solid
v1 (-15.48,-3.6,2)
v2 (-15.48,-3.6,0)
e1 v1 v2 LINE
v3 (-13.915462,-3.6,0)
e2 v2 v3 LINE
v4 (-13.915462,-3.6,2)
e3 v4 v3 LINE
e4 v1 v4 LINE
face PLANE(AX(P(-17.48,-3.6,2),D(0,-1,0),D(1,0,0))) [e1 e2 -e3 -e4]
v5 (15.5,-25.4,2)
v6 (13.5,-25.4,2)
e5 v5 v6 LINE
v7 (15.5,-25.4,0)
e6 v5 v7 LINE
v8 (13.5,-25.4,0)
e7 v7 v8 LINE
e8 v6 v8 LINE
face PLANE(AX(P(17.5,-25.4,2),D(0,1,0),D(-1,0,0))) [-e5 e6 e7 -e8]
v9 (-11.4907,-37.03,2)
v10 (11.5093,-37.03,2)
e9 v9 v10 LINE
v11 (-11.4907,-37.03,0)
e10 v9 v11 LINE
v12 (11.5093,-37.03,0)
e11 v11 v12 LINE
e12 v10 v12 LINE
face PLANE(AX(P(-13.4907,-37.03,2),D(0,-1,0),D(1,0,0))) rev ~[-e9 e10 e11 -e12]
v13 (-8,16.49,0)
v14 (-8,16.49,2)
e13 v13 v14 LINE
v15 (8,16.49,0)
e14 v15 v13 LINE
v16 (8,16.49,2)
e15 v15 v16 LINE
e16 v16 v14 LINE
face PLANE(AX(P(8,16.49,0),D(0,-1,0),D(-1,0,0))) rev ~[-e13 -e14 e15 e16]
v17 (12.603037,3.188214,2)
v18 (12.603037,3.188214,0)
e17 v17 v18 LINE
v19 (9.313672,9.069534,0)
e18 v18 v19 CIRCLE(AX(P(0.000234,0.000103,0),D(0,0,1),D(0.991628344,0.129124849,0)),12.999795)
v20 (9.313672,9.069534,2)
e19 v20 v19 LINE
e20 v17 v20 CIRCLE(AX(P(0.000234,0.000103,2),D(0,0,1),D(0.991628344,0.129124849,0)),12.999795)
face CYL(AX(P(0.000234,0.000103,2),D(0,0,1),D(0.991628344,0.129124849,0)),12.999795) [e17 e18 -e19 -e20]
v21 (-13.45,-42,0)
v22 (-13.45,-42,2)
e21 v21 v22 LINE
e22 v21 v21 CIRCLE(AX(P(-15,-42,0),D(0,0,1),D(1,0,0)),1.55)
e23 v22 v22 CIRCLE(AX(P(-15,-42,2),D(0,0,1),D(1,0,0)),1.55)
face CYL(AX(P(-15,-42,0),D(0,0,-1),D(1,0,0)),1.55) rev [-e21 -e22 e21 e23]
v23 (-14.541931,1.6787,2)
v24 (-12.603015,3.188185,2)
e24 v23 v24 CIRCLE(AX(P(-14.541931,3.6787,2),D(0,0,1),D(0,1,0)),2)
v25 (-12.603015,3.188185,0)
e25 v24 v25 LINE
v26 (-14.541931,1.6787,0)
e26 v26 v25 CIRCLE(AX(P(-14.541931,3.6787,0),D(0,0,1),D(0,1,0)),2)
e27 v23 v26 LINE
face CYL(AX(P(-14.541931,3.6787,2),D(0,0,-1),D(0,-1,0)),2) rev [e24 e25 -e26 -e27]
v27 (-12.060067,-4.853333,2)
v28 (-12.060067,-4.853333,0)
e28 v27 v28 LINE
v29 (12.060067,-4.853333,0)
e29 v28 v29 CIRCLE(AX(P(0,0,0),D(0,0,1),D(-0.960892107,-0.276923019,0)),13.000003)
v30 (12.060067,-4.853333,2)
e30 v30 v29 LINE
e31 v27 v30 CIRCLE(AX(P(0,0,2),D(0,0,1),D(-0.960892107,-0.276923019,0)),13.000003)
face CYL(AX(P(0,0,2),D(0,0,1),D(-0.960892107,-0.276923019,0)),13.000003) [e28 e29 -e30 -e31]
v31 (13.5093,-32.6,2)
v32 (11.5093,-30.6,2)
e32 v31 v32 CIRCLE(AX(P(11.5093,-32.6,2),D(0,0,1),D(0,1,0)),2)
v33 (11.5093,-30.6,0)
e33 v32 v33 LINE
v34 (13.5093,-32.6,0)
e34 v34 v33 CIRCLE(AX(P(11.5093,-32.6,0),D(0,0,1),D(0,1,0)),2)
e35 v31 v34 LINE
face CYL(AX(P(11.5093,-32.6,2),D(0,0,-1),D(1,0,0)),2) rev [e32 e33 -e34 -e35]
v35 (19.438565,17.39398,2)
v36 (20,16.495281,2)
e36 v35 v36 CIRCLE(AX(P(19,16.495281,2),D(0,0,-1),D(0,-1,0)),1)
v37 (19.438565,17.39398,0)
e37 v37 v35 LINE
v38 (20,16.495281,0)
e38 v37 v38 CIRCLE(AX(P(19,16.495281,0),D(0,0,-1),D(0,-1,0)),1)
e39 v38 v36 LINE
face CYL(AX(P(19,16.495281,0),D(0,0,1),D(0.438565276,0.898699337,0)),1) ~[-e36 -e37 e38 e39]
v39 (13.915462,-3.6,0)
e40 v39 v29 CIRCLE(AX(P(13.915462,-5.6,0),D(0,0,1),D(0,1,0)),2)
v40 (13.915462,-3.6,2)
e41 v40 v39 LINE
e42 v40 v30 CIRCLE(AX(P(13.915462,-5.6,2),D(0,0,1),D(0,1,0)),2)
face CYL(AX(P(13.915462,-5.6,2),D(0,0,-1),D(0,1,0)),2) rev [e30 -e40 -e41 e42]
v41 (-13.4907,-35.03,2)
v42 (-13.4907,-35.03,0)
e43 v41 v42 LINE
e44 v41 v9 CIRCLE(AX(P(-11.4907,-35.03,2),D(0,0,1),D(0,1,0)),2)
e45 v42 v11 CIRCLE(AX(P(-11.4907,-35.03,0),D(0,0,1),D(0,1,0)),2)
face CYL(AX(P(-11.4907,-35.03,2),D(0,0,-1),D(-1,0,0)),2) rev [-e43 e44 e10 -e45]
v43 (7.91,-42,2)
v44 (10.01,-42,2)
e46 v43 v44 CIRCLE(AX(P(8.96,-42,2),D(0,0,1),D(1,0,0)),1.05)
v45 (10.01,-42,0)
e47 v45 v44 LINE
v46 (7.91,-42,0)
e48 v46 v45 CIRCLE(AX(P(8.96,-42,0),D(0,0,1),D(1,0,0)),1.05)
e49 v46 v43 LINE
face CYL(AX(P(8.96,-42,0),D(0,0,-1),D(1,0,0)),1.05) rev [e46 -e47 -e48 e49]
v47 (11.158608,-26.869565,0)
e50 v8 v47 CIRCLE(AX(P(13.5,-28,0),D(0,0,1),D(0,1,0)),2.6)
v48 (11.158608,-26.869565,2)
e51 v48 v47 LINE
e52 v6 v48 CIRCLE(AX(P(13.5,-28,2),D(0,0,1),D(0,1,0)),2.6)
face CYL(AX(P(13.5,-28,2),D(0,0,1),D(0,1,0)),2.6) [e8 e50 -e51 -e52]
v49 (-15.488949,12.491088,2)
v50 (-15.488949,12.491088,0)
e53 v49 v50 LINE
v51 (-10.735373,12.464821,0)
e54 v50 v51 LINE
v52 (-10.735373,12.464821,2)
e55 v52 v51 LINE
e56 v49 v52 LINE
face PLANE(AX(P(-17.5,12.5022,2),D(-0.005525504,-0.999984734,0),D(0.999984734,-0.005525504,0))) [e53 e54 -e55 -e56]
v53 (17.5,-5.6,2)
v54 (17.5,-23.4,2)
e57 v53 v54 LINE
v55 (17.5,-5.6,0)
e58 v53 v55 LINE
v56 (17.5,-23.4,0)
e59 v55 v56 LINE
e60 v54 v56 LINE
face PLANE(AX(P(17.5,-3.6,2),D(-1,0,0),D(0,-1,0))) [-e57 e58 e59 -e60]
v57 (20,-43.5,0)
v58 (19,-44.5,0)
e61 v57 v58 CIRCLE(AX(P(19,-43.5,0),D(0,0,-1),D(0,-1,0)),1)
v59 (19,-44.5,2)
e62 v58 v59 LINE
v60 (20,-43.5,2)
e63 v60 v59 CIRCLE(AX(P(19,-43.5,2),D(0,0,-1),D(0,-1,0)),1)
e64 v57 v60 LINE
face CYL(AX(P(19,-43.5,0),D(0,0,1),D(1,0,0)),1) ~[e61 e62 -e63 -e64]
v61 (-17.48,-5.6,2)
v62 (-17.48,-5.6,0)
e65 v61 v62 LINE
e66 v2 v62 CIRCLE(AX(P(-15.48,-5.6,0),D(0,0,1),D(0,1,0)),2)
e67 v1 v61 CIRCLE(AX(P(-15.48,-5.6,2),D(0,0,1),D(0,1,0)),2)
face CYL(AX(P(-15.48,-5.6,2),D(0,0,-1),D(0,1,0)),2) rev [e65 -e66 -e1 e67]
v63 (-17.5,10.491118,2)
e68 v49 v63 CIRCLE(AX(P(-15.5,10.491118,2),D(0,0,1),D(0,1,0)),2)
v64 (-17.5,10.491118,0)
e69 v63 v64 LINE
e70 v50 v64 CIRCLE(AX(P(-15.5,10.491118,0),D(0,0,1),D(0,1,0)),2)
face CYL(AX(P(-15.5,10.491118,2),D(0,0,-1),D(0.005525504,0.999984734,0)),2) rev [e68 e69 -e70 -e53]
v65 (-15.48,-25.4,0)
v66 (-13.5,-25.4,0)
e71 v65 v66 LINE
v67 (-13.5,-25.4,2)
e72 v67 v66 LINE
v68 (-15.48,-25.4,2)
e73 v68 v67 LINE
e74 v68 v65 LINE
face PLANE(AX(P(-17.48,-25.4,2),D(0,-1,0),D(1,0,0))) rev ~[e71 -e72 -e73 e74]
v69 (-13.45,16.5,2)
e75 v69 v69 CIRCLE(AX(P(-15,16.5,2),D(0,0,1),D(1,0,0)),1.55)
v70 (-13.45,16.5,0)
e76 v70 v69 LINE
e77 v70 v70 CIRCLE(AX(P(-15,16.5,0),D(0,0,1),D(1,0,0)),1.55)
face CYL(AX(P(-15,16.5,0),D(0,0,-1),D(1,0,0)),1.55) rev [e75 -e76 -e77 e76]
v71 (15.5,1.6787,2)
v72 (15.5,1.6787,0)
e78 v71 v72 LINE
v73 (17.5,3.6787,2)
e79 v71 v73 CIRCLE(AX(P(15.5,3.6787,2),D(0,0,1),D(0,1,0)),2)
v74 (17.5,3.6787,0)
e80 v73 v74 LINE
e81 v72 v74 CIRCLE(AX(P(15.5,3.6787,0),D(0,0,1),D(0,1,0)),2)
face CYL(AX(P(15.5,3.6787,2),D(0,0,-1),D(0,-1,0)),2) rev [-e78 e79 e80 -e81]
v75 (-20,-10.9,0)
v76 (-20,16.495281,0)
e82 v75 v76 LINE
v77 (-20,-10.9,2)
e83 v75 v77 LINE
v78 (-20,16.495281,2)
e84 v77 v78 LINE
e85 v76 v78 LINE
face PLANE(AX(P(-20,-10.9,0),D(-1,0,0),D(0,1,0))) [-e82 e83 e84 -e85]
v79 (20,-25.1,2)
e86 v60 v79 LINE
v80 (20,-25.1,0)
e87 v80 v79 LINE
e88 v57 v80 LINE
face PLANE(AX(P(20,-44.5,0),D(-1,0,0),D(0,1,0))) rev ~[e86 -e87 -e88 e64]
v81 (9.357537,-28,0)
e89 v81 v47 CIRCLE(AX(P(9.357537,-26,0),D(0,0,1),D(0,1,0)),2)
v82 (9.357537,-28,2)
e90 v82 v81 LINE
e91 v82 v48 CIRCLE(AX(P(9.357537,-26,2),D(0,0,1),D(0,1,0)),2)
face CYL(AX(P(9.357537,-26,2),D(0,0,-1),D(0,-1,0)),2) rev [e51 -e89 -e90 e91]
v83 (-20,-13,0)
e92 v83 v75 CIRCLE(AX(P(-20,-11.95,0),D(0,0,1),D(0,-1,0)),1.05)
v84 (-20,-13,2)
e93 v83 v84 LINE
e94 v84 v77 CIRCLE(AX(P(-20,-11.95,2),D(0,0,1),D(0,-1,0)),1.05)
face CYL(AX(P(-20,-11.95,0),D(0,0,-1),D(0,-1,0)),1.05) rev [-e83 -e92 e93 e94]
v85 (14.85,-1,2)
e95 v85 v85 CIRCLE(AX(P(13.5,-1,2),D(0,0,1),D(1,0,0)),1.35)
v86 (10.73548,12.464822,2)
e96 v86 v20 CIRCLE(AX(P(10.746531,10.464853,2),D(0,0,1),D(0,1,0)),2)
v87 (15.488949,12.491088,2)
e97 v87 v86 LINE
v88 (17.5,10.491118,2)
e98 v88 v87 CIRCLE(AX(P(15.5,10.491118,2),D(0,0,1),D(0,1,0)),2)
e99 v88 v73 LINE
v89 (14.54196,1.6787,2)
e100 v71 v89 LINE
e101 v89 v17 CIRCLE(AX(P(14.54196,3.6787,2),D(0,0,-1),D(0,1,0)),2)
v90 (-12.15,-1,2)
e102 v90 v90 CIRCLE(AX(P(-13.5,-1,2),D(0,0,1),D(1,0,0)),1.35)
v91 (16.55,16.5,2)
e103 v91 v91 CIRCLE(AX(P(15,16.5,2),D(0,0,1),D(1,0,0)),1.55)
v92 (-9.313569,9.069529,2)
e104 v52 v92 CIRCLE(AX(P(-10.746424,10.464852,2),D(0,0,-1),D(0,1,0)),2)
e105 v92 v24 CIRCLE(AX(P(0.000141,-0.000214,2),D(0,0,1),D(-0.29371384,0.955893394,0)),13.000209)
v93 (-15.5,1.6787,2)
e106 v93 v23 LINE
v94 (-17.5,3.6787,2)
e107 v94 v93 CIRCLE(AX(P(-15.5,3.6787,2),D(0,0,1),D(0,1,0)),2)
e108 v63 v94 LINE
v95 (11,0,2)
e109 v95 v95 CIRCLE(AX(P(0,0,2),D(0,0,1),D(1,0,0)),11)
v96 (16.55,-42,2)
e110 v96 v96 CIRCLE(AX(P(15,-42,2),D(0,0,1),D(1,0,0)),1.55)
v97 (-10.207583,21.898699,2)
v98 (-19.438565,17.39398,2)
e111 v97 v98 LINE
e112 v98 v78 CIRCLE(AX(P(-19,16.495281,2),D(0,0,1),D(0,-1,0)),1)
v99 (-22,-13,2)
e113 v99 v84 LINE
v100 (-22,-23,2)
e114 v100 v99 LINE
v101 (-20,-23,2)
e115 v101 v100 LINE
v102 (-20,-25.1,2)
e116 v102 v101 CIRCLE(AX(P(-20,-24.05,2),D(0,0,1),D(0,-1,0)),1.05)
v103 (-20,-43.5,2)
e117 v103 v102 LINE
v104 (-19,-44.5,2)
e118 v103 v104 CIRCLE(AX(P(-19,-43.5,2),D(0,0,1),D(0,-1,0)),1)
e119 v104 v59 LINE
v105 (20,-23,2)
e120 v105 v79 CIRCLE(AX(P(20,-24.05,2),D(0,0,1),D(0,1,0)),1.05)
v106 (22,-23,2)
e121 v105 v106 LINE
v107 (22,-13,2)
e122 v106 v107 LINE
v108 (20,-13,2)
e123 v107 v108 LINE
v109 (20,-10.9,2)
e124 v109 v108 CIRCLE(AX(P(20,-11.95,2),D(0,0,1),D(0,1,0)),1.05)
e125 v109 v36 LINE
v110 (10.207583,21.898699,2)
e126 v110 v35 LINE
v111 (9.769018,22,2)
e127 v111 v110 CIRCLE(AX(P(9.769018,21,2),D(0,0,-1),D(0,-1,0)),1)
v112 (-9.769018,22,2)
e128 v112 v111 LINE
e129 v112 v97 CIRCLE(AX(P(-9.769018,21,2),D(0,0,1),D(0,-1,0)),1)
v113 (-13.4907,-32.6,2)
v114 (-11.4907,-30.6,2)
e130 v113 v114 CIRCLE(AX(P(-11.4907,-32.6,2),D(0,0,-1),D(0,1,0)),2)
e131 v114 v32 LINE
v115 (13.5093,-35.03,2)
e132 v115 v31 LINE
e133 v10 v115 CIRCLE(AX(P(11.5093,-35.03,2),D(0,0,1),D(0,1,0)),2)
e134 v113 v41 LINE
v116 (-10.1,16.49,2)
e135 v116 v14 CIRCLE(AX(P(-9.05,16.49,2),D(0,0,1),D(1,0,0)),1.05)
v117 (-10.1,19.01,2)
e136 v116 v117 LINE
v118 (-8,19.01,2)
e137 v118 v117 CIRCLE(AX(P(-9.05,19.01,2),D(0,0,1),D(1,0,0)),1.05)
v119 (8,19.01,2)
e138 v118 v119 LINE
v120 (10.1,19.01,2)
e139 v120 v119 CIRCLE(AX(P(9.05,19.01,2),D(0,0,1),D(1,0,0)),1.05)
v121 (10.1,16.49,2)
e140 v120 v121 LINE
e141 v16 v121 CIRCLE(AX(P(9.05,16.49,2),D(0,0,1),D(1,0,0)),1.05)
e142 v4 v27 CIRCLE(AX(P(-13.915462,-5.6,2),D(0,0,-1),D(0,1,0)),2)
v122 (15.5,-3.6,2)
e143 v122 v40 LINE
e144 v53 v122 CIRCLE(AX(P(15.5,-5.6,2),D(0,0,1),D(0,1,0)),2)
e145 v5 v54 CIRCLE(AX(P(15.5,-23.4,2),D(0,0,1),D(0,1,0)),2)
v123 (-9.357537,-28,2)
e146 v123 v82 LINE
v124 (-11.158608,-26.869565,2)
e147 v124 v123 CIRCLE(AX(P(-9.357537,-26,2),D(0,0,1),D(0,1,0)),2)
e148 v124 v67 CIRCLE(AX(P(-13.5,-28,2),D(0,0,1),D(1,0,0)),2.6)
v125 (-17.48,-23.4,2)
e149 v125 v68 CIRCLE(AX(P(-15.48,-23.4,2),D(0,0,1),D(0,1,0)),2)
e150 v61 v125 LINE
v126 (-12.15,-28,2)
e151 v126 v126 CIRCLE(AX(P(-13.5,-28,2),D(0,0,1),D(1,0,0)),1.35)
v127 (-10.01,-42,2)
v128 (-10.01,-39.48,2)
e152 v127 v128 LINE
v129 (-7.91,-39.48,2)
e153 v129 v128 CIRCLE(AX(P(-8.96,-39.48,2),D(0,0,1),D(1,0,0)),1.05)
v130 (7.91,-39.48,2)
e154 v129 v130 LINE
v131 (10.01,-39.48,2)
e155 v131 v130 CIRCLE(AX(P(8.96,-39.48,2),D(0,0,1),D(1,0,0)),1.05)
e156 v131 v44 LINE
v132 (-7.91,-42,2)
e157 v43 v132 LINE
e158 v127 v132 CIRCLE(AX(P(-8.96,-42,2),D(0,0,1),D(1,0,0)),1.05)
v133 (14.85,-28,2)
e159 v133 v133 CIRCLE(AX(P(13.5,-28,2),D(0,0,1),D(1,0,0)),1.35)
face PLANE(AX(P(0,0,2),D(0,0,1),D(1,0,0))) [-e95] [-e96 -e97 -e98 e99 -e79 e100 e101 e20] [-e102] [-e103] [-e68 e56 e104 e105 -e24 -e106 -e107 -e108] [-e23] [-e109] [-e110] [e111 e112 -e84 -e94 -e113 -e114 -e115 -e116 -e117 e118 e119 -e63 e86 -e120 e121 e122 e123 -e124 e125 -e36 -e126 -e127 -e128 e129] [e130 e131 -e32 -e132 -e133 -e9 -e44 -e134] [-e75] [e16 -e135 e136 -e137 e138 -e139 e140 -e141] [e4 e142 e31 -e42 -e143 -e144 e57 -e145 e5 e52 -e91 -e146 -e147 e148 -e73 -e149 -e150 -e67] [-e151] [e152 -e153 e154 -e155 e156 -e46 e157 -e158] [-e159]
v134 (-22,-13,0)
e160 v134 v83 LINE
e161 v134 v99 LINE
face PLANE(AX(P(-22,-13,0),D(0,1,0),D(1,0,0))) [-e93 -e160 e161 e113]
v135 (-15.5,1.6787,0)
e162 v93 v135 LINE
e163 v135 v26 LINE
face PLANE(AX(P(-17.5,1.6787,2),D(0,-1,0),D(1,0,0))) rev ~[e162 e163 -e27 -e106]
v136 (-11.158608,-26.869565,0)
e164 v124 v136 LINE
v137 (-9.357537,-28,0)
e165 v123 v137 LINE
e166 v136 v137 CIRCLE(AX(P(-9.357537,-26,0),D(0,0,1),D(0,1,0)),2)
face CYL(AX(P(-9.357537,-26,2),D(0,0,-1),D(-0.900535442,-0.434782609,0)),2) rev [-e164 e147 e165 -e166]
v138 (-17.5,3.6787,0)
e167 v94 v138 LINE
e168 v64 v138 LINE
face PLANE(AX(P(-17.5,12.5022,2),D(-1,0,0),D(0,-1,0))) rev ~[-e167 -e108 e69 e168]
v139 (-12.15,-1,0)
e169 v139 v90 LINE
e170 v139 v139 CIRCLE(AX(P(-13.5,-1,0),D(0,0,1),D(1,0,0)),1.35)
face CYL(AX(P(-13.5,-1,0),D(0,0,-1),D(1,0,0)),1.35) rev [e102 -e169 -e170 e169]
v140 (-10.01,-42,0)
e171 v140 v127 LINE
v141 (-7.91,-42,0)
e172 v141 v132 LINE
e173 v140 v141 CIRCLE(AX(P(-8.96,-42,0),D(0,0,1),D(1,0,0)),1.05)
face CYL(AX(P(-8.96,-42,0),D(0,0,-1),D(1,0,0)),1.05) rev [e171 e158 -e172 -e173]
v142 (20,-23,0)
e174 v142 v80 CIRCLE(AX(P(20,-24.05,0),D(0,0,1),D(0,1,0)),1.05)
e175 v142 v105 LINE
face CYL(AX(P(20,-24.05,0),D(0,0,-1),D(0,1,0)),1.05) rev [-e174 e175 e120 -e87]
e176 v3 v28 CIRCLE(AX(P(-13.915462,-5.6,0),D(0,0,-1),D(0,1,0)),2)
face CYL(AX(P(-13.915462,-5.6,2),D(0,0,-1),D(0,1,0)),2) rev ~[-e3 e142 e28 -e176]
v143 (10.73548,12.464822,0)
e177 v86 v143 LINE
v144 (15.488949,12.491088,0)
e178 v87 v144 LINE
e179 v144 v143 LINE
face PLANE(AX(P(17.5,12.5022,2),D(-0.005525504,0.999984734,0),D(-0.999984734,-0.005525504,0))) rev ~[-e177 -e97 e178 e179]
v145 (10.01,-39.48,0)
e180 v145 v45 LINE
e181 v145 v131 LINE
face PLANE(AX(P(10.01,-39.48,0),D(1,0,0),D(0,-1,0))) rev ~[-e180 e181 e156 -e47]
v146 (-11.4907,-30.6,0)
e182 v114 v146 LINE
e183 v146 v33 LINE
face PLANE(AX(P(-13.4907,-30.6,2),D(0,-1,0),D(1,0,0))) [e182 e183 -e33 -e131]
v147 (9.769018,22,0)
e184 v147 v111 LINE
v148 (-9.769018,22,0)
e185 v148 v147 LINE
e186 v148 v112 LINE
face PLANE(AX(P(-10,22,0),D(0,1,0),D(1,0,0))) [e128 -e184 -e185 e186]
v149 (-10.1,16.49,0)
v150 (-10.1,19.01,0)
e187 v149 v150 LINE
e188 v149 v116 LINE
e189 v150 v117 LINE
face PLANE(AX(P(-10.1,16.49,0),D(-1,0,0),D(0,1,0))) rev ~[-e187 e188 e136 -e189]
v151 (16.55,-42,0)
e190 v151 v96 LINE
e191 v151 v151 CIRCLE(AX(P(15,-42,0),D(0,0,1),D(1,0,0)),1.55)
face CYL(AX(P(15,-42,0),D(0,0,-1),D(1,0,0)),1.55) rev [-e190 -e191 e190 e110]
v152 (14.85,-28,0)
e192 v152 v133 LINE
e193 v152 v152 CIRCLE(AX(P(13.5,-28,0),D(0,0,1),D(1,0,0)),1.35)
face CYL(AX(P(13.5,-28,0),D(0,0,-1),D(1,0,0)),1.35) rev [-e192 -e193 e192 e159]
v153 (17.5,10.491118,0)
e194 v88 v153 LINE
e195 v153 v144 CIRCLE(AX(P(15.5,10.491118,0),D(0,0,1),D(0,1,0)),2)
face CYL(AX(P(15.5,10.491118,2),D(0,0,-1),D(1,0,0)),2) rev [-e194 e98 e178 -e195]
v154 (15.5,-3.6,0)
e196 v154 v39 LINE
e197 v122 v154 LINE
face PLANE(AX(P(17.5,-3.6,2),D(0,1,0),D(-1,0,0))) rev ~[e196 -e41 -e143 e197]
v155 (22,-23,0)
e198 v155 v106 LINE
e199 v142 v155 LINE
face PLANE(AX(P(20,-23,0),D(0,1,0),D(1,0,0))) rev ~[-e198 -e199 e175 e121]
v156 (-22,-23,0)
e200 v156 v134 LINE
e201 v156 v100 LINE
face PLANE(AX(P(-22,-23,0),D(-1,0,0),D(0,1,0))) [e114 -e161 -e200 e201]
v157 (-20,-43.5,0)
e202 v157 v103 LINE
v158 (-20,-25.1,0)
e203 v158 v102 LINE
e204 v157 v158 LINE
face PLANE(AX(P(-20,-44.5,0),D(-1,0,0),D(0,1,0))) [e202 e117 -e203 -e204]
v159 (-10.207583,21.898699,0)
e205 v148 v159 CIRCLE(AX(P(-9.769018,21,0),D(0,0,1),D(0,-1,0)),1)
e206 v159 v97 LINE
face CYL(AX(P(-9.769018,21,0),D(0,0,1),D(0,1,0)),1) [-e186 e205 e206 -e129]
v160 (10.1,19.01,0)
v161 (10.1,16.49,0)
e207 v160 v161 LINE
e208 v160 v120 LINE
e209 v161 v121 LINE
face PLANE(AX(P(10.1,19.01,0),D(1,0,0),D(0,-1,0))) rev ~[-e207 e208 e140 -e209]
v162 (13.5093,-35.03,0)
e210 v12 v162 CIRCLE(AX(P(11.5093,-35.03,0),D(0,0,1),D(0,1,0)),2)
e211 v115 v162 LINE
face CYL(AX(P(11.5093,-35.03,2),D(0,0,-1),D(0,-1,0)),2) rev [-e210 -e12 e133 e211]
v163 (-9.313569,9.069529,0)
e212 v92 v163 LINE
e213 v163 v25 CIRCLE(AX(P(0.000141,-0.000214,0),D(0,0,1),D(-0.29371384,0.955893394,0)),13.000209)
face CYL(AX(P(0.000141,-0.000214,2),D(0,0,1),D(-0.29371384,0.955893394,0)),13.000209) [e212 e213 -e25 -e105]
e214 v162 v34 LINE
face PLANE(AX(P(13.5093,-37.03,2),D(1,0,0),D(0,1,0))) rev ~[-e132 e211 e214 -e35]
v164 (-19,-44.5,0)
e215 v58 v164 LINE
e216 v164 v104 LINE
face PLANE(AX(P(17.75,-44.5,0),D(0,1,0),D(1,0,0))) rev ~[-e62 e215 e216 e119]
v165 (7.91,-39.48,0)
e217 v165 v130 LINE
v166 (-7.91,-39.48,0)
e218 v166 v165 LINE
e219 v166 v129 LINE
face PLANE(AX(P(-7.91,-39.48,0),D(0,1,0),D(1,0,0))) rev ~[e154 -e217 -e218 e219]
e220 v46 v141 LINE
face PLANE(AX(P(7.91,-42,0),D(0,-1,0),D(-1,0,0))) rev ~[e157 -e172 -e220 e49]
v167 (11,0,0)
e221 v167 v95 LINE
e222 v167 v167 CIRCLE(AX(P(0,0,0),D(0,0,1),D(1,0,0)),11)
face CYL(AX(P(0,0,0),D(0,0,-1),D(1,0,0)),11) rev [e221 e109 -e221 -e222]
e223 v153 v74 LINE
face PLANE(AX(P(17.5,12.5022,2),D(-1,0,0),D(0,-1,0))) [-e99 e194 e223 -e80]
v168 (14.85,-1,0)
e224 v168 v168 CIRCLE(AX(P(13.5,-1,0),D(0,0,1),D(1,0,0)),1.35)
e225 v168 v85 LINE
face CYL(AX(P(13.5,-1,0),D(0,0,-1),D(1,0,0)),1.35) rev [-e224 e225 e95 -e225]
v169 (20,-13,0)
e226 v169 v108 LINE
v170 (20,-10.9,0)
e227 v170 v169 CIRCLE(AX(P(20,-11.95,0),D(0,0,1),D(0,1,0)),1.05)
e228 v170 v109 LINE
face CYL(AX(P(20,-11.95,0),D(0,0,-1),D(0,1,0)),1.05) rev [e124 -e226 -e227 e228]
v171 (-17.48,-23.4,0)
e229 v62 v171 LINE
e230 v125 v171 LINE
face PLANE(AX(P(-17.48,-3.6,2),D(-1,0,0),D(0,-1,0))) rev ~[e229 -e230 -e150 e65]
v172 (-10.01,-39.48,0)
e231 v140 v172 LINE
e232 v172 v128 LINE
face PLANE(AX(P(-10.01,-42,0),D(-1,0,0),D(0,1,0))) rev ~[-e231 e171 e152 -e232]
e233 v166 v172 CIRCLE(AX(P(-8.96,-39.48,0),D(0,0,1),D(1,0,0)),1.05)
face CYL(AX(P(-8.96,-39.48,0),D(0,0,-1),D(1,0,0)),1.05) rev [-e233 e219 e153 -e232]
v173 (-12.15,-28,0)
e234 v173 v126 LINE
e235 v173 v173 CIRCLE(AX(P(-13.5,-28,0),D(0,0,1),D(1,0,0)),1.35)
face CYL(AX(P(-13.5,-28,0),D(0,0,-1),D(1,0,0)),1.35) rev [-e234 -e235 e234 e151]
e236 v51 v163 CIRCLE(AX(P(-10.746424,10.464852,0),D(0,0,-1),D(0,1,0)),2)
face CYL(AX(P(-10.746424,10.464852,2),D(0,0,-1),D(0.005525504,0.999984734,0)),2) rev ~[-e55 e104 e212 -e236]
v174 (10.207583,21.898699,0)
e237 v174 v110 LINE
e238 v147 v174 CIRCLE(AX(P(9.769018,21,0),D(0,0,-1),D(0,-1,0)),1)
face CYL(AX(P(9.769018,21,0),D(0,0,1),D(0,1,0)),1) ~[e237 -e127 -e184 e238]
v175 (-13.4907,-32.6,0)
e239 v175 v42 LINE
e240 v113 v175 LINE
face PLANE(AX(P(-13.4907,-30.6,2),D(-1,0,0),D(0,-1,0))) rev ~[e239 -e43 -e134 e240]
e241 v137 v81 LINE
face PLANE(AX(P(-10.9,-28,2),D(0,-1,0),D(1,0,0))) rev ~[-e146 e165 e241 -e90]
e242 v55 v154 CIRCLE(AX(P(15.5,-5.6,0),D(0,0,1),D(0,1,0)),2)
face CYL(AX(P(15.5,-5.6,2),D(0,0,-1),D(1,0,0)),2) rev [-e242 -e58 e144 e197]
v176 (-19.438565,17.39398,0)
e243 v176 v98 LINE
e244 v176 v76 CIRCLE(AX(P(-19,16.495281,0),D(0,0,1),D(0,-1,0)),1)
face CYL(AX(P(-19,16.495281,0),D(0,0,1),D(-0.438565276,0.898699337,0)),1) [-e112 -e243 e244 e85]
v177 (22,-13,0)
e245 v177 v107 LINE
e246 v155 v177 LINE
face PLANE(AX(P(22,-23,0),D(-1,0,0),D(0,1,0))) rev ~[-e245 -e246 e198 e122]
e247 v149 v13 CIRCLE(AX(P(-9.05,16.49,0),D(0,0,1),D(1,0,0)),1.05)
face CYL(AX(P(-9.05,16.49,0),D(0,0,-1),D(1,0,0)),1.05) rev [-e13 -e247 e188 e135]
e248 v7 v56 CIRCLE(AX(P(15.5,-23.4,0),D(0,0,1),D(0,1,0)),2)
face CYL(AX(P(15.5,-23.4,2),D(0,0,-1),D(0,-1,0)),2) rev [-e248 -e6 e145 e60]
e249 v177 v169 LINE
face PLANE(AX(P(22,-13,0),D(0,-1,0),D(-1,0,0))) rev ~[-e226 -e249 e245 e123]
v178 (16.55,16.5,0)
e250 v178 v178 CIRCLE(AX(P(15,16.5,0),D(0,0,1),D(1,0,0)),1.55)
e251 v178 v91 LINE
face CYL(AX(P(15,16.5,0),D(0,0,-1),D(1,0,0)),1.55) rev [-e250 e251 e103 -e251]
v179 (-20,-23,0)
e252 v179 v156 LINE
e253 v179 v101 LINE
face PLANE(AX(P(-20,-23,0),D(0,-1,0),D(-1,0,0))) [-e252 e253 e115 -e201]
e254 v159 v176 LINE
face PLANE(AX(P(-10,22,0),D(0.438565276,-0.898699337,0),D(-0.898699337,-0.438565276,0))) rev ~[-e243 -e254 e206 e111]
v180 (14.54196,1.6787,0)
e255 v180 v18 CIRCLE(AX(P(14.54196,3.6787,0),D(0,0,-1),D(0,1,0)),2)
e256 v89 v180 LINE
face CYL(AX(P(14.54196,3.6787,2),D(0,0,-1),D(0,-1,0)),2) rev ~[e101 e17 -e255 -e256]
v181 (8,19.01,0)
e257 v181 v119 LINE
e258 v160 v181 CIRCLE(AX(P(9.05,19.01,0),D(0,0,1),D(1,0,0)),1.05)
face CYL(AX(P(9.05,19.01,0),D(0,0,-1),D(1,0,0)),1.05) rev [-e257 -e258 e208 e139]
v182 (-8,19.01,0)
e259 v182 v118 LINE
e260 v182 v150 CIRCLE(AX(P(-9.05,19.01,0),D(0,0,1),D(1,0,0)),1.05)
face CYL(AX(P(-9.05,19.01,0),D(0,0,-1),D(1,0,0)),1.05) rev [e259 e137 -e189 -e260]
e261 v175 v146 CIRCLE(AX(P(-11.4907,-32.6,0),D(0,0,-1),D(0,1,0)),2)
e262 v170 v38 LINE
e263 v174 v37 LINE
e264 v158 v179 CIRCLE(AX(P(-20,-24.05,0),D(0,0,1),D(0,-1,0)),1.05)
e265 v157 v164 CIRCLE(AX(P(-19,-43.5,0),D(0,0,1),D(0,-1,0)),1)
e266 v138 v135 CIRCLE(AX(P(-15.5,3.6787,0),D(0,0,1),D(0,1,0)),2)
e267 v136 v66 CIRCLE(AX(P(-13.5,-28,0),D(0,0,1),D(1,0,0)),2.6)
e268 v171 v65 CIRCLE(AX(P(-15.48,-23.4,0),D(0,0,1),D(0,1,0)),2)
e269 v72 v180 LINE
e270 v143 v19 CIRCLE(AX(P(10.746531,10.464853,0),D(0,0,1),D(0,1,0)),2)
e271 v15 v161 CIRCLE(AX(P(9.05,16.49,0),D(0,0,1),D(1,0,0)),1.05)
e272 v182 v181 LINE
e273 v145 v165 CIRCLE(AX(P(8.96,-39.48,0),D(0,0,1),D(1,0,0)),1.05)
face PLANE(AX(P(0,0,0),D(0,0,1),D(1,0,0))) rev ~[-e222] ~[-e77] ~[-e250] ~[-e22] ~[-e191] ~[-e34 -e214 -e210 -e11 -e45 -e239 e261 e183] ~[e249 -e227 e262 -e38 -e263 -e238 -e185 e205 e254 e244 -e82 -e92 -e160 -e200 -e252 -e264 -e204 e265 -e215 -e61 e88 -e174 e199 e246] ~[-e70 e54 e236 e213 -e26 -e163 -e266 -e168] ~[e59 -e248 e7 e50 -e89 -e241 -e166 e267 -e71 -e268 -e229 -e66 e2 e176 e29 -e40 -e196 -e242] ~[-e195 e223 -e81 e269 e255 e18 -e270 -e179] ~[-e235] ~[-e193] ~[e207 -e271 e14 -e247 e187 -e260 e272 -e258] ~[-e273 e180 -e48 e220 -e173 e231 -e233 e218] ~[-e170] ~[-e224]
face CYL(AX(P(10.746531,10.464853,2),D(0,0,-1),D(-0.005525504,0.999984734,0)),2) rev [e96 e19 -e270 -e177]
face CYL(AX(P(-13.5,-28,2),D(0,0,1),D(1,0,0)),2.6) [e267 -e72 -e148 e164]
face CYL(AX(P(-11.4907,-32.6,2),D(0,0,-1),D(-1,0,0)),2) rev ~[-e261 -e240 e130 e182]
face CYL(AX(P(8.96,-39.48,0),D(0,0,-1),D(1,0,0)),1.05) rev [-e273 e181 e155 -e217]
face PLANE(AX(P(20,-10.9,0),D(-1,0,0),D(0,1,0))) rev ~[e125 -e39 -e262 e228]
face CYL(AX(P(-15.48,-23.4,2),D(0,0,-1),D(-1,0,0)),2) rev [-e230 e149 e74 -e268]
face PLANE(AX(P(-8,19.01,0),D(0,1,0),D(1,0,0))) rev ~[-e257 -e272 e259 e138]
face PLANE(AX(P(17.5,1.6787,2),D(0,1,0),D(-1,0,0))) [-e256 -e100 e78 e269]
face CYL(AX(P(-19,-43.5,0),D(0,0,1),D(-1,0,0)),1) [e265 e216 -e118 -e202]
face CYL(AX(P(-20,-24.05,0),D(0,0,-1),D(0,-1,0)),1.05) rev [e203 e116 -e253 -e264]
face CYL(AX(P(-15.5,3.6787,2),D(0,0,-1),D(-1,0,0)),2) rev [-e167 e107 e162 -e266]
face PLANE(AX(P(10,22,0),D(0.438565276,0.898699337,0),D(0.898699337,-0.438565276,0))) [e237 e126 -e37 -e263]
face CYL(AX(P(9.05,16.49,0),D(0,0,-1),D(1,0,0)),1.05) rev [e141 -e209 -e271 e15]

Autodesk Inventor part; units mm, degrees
ref_plane "YZ Plane" through (0, 0, 0) normal (1, 0, 0) x (0, 1, 0)
ref_plane "XZ Plane" through (0, 0, 0) normal (0, 1, 0) x (-1, 0, 0)
ref_plane "XY Plane" through (0, 0, 0) normal (0, 0, 1) x (1, 0, 0)
sketch "スケッチ1" plane through (0, 0, 0) normal (0, 0, 1) x (1, 0, 0)
  circle A0 centre (0, 0) radius 11
  line L0 (-10, 22) -> (10, 22)
  line L1 (17.75, -44.5) -> (-17.75, -44.5)
  line L2 (-15, 16.5) -> (15, 16.5) construction
  line L3 (15, 16.5) -> (15, -42) construction
  line L4 (15, -42) -> (-15, -42) construction
  line L5 (-15, -42) -> (-15, 16.5) construction
  circle A1 centre (-15, 16.5) radius 1.55
  circle A2 centre (15, 16.5) radius 1.55
  circle A3 centre (-15, -42) radius 1.55
  circle A4 centre (15, -42) radius 1.55
  line L6 (-17.75, -44.5) -> (-20, -44.5)
  line L7 (-20, -44.5) -> (-20, 17.12)
  line L8 (-10, 22) -> (-20, 17.12)
  line L9 (0, 22) -> (0, -44.5) construction
  line L10 (-20, -23) -> (-22, -23)
  line L11 (-22, -23) -> (-22, -13)
  line L12 (-22, -13) -> (-20, -13)
  line L13 (17.75, -44.5) -> (20, -44.5)
  line L14 (20, -44.5) -> (20, 17.12)
  line L15 (10, 22) -> (20, 17.12)
  line L16 (20, -23) -> (22, -23)
  line L17 (22, -23) -> (22, -13)
  line L18 (22, -13) -> (20, -13)
  line L19 (13.5, -1) -> (-13.5, -1) construction
  line L20 (-13.5, -1) -> (-13.5, -28) construction
  line L21 (-13.5, -28) -> (13.5, -28) construction
  line L22 (13.5, -28) -> (13.5, -1) construction
  circle A5 centre (-13.5, -1) radius 1.35
  circle A6 centre (-13.5, -28) radius 1.35
  circle A7 centre (13.5, -1) radius 1.35
  circle A8 centre (13.5, -28) radius 1.35
  line L23 (10.01, -42) -> (-10.01, -42)
  line L24 (-10.01, -42) -> (-10.01, -39.48)
  line L25 (-10.01, -39.48) -> (10.01, -39.48)
  line L26 (10.01, -39.48) -> (10.01, -42)
  circle A9 centre (-8.96, -39.48) radius 1.05
  circle A10 centre (-8.96, -42) radius 1.05
  circle A11 centre (8.96, -42) radius 1.05
  circle A12 centre (8.96, -39.48) radius 1.05
  line L27 (-10.1, 19.01) -> (10.1, 19.01)
  line L28 (10.1, 19.01) -> (10.1, 16.49)
  line L29 (10.1, 16.49) -> (-10.1, 16.49)
  line L30 (-10.1, 16.49) -> (-10.1, 19.01)
  circle A13 centre (-9.05, 19.01) radius 1.05
  circle A14 centre (-9.05, 16.49) radius 1.05
  circle A15 centre (9.05, 16.49) radius 1.05
  circle A16 centre (9.05, 19.01) radius 1.05
  arc A17 (-20, -25.1) -> (-20, -23) centre (-20, -24.05) ccw
  arc A18 (-20, -13) -> (-20, -10.9) centre (-20, -11.95) ccw
  arc A19 (20, -23) -> (20, -25.1) centre (20, -24.05) ccw
  arc A20 (20, -10.9) -> (20, -13) centre (20, -11.95) ccw
  point P0 (7.91, -42)
  point P1 (-7.91, -42)
  point P2 (-7.91, -39.48)
  point P3 (7.91, -39.48)
  point P4 (8, 16.49)
  point P5 (-8, 16.49)
  point P6 (-10.1, 19.01)
  point P7 (-8, 19.01)
  point P8 (8, 19.01)
  point P9 (0, -39.48)
  point P10 (0, 16.49)
  point P11 (0, 19.01)
  point P12 (20, -25.1)
  dimension "d111" = 2.1
  dimension "d140" = 2.1
  dimension "d141" = 2.1
  dimension "d147" = 2.1
  dimension "d0" = 22
  dimension "d1" = 20
  dimension "d3" = 35.5
  dimension "d6" = 44.5
  dimension "d12" = 66.5
  dimension "d21" = 58.5
  dimension "d23" = 5.5
  dimension "d25" = 3.1
  dimension "d26" = 3.1
  dimension "d27" = 3.1
  dimension "d28" = 3.1
  dimension "d38" = 2
  dimension "d39" = 10
  dimension "d42" = 15
  dimension "d43" = 30
  dimension "d44" = 35
  dimension "d45" = 15
  dimension "d62" = 27
  dimension "d63" = 27
  dimension "d64" = 13.5
  dimension "d65" = 1
  dimension "d66" = 2.7
  dimension "d67" = 2.7
  dimension "d68" = 2.7
  dimension "d69" = 2.7
  dimension "d104" = 20.02
  dimension "d105" = 2.52
  dimension "d109" = 2.1
  dimension "d110" = 2.1
  dimension "d112" = 2.1
  dimension "d129" = 16.5
  dimension "d131" = 39.48
  dimension "d133" = 2.52
  dimension "d134" = 20.2
  dimension "d136" = 5.51
  dimension "d139" = 2.1
  dimension "d149" = 40
  dimension "d150" = 2.75
  dimension "d151" = 1.05
  dimension "d152" = 1.05
extrude "押し出し1" add sketch "スケッチ1" along normal blind 2 contours L0 L15 L14 A20 A19 L13 L1 L6 L7 A17 A18 L8 | L7 L10 L11 L12 | L18 L17 L16 L14
sketch "スケッチ2" plane through (0, 0, 2) normal (0, 0, 1) x (1, 0, 0)
  circle A0 centre (-13.5, -28) radius 1.35 projected
  circle A1 centre (13.5, -28) radius 1.35 projected
  circle A2 centre (-13.5, -1) radius 1.35 projected
  circle A3 centre (13.5, -1) radius 1.35 projected
  circle A4 centre (0, 0) radius 13 construction
  line L0 (20, -44.5) -> (20, 17.12) projected
  line L1 (-20, 17.12) -> (-20, -44.5) projected
  line L2 (10, 22) -> (-10, 22) projected
  line L3 (0, 22) -> (0, -44.5) construction
  line L4 (-20, -44.5) -> (20, -44.5) projected
  circle A5 centre (-13.5, -1) radius 2.6 construction
  circle A6 centre (13.5, -1) radius 2.6 construction
  circle A7 centre (-13.5, -28) radius 2.6 construction
  circle A8 centre (13.5, -28) radius 2.6 construction
  arc A9 (-3.8182, 12.4266) -> (-12.8912, 1.6787) centre (0, 0) ccw
  arc A10 (12.8912, 1.6787) -> (3.8182, 12.4266) centre (0, 0) ccw
  arc A11 (-12.4916, -3.6) -> (12.4916, -3.6) centre (0, 0) ccw
  arc A12 (-10.9, -28) -> (-13.5, -25.4) centre (-13.5, -28) ccw
  arc A13 (13.5, -25.4) -> (10.9, -28) centre (13.5, -28) ccw
  line L5 (-10.9, -28) -> (10.9, -28)
  line L6 (-13.4907, -30.6) -> (13.5093, -30.6)
  arc A14 (-7.91, -39.48) -> (-10.01, -39.48) centre (-8.96, -39.48) ccw projected
  circle A15 centre (-8.96, -39.48) radius 2.45 construction
  arc A16 (10.01, -39.48) -> (7.91, -39.48) centre (8.96, -39.48) ccw projected
  circle A17 centre (8.96, -39.48) radius 2.45 construction
  line L7 (-13.4907, -30.6) -> (-13.4907, -37.03)
  line L8 (-13.4907, -37.03) -> (13.5093, -37.03)
  line L9 (13.5093, -37.03) -> (13.5093, -30.6)
  line L10 (-17.5, 12.5022) -> (-3.8182, 12.4266)
  line L11 (-17.5, 12.5022) -> (-17.5, 1.6787)
  line L12 (-17.5, 1.6787) -> (-12.8912, 1.6787)
  arc A18 (12.8912, 1.6787) -> (3.8182, 12.4266) centre (0, 0) ccw
  line L13 (17.5, 12.5022) -> (3.8182, 12.4266)
  line L14 (17.5, 12.5022) -> (17.5, 1.6787)
  line L15 (17.5, 1.6787) -> (12.8912, 1.6787)
  line L16 (-17.48, -3.6) -> (-12.4916, -3.6)
  line L17 (-17.48, -3.6) -> (-17.48, -25.4)
  line L18 (-17.48, -25.4) -> (-13.5, -25.4)
  line L19 (17.5, -3.6) -> (12.4916, -3.6)
  line L20 (17.5, -3.6) -> (17.5, -25.4)
  line L21 (17.5, -25.4) -> (13.5, -25.4)
  dimension "d76" = 26
  dimension "d82" = 5.2
  dimension "d83" = 5.2
  dimension "d84" = 5.2
  dimension "d85" = 5.2
  dimension "d88" = 23.8182
  dimension "d89" = 32.8912
  dimension "d92" = 21.8
  dimension "d94" = 13
  dimension "d115" = 4.9
  dimension "d116" = 4.9
  dimension "d117" = 6.5093
  dimension "d118" = 7.47
  dimension "d123" = 10.8236
  dimension "d124" = 2.5
  dimension "d125" = 21.8
  dimension "d126" = 34.98
  dimension "d127" = 2.5
extrude "押し出し2" cut sketch "スケッチ2" against normal blind 2 contours A9 L12 L11 L10 | A10 L13 L14 L15 | A11 L19 L20 L21 A13 L5 A12 L18 L17 L16 | L6 L9 L8 L7
fillet "フィレット2" radius 2 20 edges at (-17.5, 12.5022, 1) (-3.8182, 12.4266, 1) (17.5, 12.5022, 1) (-12.8912, 1.6787, 1) (17.5, 1.6787, 1) (3.8182, 12.4266, 1) (-17.5, 1.6787, 1) (12.8912, 1.6787, 1) (17.5, -3.6, 1) (12.4916, -3.6, 1) (-12.4916, -3.6, 1) (-17.48, -3.6, 1) (-17.48, -25.4, 1) (-10.9, -28, 1) (17.5, -25.4, 1) (10.9, -28, 1) (13.5093, -37.03, 1) (-13.4907, -37.03, 1) (-13.4907, -30.6, 1) (13.5093, -30.6, 1)
fillet "フィレット3" radius 1 6 edges at (-20, -44.5, 1) (20, -44.5, 1) (-20, 17.12, 1) (-10, 22, 1) (10, 22, 1) (20, 17.12, 1)
equation "\"d26\" = d25"
equation "\"d27\" = d25"
equation "\"d28\" = d25"
equation "\"d67\" = d66"
equation "\"d68\" = d66"
equation "\"d69\" = d66"
properties part number "胴体_サブフレーム_仮１"
